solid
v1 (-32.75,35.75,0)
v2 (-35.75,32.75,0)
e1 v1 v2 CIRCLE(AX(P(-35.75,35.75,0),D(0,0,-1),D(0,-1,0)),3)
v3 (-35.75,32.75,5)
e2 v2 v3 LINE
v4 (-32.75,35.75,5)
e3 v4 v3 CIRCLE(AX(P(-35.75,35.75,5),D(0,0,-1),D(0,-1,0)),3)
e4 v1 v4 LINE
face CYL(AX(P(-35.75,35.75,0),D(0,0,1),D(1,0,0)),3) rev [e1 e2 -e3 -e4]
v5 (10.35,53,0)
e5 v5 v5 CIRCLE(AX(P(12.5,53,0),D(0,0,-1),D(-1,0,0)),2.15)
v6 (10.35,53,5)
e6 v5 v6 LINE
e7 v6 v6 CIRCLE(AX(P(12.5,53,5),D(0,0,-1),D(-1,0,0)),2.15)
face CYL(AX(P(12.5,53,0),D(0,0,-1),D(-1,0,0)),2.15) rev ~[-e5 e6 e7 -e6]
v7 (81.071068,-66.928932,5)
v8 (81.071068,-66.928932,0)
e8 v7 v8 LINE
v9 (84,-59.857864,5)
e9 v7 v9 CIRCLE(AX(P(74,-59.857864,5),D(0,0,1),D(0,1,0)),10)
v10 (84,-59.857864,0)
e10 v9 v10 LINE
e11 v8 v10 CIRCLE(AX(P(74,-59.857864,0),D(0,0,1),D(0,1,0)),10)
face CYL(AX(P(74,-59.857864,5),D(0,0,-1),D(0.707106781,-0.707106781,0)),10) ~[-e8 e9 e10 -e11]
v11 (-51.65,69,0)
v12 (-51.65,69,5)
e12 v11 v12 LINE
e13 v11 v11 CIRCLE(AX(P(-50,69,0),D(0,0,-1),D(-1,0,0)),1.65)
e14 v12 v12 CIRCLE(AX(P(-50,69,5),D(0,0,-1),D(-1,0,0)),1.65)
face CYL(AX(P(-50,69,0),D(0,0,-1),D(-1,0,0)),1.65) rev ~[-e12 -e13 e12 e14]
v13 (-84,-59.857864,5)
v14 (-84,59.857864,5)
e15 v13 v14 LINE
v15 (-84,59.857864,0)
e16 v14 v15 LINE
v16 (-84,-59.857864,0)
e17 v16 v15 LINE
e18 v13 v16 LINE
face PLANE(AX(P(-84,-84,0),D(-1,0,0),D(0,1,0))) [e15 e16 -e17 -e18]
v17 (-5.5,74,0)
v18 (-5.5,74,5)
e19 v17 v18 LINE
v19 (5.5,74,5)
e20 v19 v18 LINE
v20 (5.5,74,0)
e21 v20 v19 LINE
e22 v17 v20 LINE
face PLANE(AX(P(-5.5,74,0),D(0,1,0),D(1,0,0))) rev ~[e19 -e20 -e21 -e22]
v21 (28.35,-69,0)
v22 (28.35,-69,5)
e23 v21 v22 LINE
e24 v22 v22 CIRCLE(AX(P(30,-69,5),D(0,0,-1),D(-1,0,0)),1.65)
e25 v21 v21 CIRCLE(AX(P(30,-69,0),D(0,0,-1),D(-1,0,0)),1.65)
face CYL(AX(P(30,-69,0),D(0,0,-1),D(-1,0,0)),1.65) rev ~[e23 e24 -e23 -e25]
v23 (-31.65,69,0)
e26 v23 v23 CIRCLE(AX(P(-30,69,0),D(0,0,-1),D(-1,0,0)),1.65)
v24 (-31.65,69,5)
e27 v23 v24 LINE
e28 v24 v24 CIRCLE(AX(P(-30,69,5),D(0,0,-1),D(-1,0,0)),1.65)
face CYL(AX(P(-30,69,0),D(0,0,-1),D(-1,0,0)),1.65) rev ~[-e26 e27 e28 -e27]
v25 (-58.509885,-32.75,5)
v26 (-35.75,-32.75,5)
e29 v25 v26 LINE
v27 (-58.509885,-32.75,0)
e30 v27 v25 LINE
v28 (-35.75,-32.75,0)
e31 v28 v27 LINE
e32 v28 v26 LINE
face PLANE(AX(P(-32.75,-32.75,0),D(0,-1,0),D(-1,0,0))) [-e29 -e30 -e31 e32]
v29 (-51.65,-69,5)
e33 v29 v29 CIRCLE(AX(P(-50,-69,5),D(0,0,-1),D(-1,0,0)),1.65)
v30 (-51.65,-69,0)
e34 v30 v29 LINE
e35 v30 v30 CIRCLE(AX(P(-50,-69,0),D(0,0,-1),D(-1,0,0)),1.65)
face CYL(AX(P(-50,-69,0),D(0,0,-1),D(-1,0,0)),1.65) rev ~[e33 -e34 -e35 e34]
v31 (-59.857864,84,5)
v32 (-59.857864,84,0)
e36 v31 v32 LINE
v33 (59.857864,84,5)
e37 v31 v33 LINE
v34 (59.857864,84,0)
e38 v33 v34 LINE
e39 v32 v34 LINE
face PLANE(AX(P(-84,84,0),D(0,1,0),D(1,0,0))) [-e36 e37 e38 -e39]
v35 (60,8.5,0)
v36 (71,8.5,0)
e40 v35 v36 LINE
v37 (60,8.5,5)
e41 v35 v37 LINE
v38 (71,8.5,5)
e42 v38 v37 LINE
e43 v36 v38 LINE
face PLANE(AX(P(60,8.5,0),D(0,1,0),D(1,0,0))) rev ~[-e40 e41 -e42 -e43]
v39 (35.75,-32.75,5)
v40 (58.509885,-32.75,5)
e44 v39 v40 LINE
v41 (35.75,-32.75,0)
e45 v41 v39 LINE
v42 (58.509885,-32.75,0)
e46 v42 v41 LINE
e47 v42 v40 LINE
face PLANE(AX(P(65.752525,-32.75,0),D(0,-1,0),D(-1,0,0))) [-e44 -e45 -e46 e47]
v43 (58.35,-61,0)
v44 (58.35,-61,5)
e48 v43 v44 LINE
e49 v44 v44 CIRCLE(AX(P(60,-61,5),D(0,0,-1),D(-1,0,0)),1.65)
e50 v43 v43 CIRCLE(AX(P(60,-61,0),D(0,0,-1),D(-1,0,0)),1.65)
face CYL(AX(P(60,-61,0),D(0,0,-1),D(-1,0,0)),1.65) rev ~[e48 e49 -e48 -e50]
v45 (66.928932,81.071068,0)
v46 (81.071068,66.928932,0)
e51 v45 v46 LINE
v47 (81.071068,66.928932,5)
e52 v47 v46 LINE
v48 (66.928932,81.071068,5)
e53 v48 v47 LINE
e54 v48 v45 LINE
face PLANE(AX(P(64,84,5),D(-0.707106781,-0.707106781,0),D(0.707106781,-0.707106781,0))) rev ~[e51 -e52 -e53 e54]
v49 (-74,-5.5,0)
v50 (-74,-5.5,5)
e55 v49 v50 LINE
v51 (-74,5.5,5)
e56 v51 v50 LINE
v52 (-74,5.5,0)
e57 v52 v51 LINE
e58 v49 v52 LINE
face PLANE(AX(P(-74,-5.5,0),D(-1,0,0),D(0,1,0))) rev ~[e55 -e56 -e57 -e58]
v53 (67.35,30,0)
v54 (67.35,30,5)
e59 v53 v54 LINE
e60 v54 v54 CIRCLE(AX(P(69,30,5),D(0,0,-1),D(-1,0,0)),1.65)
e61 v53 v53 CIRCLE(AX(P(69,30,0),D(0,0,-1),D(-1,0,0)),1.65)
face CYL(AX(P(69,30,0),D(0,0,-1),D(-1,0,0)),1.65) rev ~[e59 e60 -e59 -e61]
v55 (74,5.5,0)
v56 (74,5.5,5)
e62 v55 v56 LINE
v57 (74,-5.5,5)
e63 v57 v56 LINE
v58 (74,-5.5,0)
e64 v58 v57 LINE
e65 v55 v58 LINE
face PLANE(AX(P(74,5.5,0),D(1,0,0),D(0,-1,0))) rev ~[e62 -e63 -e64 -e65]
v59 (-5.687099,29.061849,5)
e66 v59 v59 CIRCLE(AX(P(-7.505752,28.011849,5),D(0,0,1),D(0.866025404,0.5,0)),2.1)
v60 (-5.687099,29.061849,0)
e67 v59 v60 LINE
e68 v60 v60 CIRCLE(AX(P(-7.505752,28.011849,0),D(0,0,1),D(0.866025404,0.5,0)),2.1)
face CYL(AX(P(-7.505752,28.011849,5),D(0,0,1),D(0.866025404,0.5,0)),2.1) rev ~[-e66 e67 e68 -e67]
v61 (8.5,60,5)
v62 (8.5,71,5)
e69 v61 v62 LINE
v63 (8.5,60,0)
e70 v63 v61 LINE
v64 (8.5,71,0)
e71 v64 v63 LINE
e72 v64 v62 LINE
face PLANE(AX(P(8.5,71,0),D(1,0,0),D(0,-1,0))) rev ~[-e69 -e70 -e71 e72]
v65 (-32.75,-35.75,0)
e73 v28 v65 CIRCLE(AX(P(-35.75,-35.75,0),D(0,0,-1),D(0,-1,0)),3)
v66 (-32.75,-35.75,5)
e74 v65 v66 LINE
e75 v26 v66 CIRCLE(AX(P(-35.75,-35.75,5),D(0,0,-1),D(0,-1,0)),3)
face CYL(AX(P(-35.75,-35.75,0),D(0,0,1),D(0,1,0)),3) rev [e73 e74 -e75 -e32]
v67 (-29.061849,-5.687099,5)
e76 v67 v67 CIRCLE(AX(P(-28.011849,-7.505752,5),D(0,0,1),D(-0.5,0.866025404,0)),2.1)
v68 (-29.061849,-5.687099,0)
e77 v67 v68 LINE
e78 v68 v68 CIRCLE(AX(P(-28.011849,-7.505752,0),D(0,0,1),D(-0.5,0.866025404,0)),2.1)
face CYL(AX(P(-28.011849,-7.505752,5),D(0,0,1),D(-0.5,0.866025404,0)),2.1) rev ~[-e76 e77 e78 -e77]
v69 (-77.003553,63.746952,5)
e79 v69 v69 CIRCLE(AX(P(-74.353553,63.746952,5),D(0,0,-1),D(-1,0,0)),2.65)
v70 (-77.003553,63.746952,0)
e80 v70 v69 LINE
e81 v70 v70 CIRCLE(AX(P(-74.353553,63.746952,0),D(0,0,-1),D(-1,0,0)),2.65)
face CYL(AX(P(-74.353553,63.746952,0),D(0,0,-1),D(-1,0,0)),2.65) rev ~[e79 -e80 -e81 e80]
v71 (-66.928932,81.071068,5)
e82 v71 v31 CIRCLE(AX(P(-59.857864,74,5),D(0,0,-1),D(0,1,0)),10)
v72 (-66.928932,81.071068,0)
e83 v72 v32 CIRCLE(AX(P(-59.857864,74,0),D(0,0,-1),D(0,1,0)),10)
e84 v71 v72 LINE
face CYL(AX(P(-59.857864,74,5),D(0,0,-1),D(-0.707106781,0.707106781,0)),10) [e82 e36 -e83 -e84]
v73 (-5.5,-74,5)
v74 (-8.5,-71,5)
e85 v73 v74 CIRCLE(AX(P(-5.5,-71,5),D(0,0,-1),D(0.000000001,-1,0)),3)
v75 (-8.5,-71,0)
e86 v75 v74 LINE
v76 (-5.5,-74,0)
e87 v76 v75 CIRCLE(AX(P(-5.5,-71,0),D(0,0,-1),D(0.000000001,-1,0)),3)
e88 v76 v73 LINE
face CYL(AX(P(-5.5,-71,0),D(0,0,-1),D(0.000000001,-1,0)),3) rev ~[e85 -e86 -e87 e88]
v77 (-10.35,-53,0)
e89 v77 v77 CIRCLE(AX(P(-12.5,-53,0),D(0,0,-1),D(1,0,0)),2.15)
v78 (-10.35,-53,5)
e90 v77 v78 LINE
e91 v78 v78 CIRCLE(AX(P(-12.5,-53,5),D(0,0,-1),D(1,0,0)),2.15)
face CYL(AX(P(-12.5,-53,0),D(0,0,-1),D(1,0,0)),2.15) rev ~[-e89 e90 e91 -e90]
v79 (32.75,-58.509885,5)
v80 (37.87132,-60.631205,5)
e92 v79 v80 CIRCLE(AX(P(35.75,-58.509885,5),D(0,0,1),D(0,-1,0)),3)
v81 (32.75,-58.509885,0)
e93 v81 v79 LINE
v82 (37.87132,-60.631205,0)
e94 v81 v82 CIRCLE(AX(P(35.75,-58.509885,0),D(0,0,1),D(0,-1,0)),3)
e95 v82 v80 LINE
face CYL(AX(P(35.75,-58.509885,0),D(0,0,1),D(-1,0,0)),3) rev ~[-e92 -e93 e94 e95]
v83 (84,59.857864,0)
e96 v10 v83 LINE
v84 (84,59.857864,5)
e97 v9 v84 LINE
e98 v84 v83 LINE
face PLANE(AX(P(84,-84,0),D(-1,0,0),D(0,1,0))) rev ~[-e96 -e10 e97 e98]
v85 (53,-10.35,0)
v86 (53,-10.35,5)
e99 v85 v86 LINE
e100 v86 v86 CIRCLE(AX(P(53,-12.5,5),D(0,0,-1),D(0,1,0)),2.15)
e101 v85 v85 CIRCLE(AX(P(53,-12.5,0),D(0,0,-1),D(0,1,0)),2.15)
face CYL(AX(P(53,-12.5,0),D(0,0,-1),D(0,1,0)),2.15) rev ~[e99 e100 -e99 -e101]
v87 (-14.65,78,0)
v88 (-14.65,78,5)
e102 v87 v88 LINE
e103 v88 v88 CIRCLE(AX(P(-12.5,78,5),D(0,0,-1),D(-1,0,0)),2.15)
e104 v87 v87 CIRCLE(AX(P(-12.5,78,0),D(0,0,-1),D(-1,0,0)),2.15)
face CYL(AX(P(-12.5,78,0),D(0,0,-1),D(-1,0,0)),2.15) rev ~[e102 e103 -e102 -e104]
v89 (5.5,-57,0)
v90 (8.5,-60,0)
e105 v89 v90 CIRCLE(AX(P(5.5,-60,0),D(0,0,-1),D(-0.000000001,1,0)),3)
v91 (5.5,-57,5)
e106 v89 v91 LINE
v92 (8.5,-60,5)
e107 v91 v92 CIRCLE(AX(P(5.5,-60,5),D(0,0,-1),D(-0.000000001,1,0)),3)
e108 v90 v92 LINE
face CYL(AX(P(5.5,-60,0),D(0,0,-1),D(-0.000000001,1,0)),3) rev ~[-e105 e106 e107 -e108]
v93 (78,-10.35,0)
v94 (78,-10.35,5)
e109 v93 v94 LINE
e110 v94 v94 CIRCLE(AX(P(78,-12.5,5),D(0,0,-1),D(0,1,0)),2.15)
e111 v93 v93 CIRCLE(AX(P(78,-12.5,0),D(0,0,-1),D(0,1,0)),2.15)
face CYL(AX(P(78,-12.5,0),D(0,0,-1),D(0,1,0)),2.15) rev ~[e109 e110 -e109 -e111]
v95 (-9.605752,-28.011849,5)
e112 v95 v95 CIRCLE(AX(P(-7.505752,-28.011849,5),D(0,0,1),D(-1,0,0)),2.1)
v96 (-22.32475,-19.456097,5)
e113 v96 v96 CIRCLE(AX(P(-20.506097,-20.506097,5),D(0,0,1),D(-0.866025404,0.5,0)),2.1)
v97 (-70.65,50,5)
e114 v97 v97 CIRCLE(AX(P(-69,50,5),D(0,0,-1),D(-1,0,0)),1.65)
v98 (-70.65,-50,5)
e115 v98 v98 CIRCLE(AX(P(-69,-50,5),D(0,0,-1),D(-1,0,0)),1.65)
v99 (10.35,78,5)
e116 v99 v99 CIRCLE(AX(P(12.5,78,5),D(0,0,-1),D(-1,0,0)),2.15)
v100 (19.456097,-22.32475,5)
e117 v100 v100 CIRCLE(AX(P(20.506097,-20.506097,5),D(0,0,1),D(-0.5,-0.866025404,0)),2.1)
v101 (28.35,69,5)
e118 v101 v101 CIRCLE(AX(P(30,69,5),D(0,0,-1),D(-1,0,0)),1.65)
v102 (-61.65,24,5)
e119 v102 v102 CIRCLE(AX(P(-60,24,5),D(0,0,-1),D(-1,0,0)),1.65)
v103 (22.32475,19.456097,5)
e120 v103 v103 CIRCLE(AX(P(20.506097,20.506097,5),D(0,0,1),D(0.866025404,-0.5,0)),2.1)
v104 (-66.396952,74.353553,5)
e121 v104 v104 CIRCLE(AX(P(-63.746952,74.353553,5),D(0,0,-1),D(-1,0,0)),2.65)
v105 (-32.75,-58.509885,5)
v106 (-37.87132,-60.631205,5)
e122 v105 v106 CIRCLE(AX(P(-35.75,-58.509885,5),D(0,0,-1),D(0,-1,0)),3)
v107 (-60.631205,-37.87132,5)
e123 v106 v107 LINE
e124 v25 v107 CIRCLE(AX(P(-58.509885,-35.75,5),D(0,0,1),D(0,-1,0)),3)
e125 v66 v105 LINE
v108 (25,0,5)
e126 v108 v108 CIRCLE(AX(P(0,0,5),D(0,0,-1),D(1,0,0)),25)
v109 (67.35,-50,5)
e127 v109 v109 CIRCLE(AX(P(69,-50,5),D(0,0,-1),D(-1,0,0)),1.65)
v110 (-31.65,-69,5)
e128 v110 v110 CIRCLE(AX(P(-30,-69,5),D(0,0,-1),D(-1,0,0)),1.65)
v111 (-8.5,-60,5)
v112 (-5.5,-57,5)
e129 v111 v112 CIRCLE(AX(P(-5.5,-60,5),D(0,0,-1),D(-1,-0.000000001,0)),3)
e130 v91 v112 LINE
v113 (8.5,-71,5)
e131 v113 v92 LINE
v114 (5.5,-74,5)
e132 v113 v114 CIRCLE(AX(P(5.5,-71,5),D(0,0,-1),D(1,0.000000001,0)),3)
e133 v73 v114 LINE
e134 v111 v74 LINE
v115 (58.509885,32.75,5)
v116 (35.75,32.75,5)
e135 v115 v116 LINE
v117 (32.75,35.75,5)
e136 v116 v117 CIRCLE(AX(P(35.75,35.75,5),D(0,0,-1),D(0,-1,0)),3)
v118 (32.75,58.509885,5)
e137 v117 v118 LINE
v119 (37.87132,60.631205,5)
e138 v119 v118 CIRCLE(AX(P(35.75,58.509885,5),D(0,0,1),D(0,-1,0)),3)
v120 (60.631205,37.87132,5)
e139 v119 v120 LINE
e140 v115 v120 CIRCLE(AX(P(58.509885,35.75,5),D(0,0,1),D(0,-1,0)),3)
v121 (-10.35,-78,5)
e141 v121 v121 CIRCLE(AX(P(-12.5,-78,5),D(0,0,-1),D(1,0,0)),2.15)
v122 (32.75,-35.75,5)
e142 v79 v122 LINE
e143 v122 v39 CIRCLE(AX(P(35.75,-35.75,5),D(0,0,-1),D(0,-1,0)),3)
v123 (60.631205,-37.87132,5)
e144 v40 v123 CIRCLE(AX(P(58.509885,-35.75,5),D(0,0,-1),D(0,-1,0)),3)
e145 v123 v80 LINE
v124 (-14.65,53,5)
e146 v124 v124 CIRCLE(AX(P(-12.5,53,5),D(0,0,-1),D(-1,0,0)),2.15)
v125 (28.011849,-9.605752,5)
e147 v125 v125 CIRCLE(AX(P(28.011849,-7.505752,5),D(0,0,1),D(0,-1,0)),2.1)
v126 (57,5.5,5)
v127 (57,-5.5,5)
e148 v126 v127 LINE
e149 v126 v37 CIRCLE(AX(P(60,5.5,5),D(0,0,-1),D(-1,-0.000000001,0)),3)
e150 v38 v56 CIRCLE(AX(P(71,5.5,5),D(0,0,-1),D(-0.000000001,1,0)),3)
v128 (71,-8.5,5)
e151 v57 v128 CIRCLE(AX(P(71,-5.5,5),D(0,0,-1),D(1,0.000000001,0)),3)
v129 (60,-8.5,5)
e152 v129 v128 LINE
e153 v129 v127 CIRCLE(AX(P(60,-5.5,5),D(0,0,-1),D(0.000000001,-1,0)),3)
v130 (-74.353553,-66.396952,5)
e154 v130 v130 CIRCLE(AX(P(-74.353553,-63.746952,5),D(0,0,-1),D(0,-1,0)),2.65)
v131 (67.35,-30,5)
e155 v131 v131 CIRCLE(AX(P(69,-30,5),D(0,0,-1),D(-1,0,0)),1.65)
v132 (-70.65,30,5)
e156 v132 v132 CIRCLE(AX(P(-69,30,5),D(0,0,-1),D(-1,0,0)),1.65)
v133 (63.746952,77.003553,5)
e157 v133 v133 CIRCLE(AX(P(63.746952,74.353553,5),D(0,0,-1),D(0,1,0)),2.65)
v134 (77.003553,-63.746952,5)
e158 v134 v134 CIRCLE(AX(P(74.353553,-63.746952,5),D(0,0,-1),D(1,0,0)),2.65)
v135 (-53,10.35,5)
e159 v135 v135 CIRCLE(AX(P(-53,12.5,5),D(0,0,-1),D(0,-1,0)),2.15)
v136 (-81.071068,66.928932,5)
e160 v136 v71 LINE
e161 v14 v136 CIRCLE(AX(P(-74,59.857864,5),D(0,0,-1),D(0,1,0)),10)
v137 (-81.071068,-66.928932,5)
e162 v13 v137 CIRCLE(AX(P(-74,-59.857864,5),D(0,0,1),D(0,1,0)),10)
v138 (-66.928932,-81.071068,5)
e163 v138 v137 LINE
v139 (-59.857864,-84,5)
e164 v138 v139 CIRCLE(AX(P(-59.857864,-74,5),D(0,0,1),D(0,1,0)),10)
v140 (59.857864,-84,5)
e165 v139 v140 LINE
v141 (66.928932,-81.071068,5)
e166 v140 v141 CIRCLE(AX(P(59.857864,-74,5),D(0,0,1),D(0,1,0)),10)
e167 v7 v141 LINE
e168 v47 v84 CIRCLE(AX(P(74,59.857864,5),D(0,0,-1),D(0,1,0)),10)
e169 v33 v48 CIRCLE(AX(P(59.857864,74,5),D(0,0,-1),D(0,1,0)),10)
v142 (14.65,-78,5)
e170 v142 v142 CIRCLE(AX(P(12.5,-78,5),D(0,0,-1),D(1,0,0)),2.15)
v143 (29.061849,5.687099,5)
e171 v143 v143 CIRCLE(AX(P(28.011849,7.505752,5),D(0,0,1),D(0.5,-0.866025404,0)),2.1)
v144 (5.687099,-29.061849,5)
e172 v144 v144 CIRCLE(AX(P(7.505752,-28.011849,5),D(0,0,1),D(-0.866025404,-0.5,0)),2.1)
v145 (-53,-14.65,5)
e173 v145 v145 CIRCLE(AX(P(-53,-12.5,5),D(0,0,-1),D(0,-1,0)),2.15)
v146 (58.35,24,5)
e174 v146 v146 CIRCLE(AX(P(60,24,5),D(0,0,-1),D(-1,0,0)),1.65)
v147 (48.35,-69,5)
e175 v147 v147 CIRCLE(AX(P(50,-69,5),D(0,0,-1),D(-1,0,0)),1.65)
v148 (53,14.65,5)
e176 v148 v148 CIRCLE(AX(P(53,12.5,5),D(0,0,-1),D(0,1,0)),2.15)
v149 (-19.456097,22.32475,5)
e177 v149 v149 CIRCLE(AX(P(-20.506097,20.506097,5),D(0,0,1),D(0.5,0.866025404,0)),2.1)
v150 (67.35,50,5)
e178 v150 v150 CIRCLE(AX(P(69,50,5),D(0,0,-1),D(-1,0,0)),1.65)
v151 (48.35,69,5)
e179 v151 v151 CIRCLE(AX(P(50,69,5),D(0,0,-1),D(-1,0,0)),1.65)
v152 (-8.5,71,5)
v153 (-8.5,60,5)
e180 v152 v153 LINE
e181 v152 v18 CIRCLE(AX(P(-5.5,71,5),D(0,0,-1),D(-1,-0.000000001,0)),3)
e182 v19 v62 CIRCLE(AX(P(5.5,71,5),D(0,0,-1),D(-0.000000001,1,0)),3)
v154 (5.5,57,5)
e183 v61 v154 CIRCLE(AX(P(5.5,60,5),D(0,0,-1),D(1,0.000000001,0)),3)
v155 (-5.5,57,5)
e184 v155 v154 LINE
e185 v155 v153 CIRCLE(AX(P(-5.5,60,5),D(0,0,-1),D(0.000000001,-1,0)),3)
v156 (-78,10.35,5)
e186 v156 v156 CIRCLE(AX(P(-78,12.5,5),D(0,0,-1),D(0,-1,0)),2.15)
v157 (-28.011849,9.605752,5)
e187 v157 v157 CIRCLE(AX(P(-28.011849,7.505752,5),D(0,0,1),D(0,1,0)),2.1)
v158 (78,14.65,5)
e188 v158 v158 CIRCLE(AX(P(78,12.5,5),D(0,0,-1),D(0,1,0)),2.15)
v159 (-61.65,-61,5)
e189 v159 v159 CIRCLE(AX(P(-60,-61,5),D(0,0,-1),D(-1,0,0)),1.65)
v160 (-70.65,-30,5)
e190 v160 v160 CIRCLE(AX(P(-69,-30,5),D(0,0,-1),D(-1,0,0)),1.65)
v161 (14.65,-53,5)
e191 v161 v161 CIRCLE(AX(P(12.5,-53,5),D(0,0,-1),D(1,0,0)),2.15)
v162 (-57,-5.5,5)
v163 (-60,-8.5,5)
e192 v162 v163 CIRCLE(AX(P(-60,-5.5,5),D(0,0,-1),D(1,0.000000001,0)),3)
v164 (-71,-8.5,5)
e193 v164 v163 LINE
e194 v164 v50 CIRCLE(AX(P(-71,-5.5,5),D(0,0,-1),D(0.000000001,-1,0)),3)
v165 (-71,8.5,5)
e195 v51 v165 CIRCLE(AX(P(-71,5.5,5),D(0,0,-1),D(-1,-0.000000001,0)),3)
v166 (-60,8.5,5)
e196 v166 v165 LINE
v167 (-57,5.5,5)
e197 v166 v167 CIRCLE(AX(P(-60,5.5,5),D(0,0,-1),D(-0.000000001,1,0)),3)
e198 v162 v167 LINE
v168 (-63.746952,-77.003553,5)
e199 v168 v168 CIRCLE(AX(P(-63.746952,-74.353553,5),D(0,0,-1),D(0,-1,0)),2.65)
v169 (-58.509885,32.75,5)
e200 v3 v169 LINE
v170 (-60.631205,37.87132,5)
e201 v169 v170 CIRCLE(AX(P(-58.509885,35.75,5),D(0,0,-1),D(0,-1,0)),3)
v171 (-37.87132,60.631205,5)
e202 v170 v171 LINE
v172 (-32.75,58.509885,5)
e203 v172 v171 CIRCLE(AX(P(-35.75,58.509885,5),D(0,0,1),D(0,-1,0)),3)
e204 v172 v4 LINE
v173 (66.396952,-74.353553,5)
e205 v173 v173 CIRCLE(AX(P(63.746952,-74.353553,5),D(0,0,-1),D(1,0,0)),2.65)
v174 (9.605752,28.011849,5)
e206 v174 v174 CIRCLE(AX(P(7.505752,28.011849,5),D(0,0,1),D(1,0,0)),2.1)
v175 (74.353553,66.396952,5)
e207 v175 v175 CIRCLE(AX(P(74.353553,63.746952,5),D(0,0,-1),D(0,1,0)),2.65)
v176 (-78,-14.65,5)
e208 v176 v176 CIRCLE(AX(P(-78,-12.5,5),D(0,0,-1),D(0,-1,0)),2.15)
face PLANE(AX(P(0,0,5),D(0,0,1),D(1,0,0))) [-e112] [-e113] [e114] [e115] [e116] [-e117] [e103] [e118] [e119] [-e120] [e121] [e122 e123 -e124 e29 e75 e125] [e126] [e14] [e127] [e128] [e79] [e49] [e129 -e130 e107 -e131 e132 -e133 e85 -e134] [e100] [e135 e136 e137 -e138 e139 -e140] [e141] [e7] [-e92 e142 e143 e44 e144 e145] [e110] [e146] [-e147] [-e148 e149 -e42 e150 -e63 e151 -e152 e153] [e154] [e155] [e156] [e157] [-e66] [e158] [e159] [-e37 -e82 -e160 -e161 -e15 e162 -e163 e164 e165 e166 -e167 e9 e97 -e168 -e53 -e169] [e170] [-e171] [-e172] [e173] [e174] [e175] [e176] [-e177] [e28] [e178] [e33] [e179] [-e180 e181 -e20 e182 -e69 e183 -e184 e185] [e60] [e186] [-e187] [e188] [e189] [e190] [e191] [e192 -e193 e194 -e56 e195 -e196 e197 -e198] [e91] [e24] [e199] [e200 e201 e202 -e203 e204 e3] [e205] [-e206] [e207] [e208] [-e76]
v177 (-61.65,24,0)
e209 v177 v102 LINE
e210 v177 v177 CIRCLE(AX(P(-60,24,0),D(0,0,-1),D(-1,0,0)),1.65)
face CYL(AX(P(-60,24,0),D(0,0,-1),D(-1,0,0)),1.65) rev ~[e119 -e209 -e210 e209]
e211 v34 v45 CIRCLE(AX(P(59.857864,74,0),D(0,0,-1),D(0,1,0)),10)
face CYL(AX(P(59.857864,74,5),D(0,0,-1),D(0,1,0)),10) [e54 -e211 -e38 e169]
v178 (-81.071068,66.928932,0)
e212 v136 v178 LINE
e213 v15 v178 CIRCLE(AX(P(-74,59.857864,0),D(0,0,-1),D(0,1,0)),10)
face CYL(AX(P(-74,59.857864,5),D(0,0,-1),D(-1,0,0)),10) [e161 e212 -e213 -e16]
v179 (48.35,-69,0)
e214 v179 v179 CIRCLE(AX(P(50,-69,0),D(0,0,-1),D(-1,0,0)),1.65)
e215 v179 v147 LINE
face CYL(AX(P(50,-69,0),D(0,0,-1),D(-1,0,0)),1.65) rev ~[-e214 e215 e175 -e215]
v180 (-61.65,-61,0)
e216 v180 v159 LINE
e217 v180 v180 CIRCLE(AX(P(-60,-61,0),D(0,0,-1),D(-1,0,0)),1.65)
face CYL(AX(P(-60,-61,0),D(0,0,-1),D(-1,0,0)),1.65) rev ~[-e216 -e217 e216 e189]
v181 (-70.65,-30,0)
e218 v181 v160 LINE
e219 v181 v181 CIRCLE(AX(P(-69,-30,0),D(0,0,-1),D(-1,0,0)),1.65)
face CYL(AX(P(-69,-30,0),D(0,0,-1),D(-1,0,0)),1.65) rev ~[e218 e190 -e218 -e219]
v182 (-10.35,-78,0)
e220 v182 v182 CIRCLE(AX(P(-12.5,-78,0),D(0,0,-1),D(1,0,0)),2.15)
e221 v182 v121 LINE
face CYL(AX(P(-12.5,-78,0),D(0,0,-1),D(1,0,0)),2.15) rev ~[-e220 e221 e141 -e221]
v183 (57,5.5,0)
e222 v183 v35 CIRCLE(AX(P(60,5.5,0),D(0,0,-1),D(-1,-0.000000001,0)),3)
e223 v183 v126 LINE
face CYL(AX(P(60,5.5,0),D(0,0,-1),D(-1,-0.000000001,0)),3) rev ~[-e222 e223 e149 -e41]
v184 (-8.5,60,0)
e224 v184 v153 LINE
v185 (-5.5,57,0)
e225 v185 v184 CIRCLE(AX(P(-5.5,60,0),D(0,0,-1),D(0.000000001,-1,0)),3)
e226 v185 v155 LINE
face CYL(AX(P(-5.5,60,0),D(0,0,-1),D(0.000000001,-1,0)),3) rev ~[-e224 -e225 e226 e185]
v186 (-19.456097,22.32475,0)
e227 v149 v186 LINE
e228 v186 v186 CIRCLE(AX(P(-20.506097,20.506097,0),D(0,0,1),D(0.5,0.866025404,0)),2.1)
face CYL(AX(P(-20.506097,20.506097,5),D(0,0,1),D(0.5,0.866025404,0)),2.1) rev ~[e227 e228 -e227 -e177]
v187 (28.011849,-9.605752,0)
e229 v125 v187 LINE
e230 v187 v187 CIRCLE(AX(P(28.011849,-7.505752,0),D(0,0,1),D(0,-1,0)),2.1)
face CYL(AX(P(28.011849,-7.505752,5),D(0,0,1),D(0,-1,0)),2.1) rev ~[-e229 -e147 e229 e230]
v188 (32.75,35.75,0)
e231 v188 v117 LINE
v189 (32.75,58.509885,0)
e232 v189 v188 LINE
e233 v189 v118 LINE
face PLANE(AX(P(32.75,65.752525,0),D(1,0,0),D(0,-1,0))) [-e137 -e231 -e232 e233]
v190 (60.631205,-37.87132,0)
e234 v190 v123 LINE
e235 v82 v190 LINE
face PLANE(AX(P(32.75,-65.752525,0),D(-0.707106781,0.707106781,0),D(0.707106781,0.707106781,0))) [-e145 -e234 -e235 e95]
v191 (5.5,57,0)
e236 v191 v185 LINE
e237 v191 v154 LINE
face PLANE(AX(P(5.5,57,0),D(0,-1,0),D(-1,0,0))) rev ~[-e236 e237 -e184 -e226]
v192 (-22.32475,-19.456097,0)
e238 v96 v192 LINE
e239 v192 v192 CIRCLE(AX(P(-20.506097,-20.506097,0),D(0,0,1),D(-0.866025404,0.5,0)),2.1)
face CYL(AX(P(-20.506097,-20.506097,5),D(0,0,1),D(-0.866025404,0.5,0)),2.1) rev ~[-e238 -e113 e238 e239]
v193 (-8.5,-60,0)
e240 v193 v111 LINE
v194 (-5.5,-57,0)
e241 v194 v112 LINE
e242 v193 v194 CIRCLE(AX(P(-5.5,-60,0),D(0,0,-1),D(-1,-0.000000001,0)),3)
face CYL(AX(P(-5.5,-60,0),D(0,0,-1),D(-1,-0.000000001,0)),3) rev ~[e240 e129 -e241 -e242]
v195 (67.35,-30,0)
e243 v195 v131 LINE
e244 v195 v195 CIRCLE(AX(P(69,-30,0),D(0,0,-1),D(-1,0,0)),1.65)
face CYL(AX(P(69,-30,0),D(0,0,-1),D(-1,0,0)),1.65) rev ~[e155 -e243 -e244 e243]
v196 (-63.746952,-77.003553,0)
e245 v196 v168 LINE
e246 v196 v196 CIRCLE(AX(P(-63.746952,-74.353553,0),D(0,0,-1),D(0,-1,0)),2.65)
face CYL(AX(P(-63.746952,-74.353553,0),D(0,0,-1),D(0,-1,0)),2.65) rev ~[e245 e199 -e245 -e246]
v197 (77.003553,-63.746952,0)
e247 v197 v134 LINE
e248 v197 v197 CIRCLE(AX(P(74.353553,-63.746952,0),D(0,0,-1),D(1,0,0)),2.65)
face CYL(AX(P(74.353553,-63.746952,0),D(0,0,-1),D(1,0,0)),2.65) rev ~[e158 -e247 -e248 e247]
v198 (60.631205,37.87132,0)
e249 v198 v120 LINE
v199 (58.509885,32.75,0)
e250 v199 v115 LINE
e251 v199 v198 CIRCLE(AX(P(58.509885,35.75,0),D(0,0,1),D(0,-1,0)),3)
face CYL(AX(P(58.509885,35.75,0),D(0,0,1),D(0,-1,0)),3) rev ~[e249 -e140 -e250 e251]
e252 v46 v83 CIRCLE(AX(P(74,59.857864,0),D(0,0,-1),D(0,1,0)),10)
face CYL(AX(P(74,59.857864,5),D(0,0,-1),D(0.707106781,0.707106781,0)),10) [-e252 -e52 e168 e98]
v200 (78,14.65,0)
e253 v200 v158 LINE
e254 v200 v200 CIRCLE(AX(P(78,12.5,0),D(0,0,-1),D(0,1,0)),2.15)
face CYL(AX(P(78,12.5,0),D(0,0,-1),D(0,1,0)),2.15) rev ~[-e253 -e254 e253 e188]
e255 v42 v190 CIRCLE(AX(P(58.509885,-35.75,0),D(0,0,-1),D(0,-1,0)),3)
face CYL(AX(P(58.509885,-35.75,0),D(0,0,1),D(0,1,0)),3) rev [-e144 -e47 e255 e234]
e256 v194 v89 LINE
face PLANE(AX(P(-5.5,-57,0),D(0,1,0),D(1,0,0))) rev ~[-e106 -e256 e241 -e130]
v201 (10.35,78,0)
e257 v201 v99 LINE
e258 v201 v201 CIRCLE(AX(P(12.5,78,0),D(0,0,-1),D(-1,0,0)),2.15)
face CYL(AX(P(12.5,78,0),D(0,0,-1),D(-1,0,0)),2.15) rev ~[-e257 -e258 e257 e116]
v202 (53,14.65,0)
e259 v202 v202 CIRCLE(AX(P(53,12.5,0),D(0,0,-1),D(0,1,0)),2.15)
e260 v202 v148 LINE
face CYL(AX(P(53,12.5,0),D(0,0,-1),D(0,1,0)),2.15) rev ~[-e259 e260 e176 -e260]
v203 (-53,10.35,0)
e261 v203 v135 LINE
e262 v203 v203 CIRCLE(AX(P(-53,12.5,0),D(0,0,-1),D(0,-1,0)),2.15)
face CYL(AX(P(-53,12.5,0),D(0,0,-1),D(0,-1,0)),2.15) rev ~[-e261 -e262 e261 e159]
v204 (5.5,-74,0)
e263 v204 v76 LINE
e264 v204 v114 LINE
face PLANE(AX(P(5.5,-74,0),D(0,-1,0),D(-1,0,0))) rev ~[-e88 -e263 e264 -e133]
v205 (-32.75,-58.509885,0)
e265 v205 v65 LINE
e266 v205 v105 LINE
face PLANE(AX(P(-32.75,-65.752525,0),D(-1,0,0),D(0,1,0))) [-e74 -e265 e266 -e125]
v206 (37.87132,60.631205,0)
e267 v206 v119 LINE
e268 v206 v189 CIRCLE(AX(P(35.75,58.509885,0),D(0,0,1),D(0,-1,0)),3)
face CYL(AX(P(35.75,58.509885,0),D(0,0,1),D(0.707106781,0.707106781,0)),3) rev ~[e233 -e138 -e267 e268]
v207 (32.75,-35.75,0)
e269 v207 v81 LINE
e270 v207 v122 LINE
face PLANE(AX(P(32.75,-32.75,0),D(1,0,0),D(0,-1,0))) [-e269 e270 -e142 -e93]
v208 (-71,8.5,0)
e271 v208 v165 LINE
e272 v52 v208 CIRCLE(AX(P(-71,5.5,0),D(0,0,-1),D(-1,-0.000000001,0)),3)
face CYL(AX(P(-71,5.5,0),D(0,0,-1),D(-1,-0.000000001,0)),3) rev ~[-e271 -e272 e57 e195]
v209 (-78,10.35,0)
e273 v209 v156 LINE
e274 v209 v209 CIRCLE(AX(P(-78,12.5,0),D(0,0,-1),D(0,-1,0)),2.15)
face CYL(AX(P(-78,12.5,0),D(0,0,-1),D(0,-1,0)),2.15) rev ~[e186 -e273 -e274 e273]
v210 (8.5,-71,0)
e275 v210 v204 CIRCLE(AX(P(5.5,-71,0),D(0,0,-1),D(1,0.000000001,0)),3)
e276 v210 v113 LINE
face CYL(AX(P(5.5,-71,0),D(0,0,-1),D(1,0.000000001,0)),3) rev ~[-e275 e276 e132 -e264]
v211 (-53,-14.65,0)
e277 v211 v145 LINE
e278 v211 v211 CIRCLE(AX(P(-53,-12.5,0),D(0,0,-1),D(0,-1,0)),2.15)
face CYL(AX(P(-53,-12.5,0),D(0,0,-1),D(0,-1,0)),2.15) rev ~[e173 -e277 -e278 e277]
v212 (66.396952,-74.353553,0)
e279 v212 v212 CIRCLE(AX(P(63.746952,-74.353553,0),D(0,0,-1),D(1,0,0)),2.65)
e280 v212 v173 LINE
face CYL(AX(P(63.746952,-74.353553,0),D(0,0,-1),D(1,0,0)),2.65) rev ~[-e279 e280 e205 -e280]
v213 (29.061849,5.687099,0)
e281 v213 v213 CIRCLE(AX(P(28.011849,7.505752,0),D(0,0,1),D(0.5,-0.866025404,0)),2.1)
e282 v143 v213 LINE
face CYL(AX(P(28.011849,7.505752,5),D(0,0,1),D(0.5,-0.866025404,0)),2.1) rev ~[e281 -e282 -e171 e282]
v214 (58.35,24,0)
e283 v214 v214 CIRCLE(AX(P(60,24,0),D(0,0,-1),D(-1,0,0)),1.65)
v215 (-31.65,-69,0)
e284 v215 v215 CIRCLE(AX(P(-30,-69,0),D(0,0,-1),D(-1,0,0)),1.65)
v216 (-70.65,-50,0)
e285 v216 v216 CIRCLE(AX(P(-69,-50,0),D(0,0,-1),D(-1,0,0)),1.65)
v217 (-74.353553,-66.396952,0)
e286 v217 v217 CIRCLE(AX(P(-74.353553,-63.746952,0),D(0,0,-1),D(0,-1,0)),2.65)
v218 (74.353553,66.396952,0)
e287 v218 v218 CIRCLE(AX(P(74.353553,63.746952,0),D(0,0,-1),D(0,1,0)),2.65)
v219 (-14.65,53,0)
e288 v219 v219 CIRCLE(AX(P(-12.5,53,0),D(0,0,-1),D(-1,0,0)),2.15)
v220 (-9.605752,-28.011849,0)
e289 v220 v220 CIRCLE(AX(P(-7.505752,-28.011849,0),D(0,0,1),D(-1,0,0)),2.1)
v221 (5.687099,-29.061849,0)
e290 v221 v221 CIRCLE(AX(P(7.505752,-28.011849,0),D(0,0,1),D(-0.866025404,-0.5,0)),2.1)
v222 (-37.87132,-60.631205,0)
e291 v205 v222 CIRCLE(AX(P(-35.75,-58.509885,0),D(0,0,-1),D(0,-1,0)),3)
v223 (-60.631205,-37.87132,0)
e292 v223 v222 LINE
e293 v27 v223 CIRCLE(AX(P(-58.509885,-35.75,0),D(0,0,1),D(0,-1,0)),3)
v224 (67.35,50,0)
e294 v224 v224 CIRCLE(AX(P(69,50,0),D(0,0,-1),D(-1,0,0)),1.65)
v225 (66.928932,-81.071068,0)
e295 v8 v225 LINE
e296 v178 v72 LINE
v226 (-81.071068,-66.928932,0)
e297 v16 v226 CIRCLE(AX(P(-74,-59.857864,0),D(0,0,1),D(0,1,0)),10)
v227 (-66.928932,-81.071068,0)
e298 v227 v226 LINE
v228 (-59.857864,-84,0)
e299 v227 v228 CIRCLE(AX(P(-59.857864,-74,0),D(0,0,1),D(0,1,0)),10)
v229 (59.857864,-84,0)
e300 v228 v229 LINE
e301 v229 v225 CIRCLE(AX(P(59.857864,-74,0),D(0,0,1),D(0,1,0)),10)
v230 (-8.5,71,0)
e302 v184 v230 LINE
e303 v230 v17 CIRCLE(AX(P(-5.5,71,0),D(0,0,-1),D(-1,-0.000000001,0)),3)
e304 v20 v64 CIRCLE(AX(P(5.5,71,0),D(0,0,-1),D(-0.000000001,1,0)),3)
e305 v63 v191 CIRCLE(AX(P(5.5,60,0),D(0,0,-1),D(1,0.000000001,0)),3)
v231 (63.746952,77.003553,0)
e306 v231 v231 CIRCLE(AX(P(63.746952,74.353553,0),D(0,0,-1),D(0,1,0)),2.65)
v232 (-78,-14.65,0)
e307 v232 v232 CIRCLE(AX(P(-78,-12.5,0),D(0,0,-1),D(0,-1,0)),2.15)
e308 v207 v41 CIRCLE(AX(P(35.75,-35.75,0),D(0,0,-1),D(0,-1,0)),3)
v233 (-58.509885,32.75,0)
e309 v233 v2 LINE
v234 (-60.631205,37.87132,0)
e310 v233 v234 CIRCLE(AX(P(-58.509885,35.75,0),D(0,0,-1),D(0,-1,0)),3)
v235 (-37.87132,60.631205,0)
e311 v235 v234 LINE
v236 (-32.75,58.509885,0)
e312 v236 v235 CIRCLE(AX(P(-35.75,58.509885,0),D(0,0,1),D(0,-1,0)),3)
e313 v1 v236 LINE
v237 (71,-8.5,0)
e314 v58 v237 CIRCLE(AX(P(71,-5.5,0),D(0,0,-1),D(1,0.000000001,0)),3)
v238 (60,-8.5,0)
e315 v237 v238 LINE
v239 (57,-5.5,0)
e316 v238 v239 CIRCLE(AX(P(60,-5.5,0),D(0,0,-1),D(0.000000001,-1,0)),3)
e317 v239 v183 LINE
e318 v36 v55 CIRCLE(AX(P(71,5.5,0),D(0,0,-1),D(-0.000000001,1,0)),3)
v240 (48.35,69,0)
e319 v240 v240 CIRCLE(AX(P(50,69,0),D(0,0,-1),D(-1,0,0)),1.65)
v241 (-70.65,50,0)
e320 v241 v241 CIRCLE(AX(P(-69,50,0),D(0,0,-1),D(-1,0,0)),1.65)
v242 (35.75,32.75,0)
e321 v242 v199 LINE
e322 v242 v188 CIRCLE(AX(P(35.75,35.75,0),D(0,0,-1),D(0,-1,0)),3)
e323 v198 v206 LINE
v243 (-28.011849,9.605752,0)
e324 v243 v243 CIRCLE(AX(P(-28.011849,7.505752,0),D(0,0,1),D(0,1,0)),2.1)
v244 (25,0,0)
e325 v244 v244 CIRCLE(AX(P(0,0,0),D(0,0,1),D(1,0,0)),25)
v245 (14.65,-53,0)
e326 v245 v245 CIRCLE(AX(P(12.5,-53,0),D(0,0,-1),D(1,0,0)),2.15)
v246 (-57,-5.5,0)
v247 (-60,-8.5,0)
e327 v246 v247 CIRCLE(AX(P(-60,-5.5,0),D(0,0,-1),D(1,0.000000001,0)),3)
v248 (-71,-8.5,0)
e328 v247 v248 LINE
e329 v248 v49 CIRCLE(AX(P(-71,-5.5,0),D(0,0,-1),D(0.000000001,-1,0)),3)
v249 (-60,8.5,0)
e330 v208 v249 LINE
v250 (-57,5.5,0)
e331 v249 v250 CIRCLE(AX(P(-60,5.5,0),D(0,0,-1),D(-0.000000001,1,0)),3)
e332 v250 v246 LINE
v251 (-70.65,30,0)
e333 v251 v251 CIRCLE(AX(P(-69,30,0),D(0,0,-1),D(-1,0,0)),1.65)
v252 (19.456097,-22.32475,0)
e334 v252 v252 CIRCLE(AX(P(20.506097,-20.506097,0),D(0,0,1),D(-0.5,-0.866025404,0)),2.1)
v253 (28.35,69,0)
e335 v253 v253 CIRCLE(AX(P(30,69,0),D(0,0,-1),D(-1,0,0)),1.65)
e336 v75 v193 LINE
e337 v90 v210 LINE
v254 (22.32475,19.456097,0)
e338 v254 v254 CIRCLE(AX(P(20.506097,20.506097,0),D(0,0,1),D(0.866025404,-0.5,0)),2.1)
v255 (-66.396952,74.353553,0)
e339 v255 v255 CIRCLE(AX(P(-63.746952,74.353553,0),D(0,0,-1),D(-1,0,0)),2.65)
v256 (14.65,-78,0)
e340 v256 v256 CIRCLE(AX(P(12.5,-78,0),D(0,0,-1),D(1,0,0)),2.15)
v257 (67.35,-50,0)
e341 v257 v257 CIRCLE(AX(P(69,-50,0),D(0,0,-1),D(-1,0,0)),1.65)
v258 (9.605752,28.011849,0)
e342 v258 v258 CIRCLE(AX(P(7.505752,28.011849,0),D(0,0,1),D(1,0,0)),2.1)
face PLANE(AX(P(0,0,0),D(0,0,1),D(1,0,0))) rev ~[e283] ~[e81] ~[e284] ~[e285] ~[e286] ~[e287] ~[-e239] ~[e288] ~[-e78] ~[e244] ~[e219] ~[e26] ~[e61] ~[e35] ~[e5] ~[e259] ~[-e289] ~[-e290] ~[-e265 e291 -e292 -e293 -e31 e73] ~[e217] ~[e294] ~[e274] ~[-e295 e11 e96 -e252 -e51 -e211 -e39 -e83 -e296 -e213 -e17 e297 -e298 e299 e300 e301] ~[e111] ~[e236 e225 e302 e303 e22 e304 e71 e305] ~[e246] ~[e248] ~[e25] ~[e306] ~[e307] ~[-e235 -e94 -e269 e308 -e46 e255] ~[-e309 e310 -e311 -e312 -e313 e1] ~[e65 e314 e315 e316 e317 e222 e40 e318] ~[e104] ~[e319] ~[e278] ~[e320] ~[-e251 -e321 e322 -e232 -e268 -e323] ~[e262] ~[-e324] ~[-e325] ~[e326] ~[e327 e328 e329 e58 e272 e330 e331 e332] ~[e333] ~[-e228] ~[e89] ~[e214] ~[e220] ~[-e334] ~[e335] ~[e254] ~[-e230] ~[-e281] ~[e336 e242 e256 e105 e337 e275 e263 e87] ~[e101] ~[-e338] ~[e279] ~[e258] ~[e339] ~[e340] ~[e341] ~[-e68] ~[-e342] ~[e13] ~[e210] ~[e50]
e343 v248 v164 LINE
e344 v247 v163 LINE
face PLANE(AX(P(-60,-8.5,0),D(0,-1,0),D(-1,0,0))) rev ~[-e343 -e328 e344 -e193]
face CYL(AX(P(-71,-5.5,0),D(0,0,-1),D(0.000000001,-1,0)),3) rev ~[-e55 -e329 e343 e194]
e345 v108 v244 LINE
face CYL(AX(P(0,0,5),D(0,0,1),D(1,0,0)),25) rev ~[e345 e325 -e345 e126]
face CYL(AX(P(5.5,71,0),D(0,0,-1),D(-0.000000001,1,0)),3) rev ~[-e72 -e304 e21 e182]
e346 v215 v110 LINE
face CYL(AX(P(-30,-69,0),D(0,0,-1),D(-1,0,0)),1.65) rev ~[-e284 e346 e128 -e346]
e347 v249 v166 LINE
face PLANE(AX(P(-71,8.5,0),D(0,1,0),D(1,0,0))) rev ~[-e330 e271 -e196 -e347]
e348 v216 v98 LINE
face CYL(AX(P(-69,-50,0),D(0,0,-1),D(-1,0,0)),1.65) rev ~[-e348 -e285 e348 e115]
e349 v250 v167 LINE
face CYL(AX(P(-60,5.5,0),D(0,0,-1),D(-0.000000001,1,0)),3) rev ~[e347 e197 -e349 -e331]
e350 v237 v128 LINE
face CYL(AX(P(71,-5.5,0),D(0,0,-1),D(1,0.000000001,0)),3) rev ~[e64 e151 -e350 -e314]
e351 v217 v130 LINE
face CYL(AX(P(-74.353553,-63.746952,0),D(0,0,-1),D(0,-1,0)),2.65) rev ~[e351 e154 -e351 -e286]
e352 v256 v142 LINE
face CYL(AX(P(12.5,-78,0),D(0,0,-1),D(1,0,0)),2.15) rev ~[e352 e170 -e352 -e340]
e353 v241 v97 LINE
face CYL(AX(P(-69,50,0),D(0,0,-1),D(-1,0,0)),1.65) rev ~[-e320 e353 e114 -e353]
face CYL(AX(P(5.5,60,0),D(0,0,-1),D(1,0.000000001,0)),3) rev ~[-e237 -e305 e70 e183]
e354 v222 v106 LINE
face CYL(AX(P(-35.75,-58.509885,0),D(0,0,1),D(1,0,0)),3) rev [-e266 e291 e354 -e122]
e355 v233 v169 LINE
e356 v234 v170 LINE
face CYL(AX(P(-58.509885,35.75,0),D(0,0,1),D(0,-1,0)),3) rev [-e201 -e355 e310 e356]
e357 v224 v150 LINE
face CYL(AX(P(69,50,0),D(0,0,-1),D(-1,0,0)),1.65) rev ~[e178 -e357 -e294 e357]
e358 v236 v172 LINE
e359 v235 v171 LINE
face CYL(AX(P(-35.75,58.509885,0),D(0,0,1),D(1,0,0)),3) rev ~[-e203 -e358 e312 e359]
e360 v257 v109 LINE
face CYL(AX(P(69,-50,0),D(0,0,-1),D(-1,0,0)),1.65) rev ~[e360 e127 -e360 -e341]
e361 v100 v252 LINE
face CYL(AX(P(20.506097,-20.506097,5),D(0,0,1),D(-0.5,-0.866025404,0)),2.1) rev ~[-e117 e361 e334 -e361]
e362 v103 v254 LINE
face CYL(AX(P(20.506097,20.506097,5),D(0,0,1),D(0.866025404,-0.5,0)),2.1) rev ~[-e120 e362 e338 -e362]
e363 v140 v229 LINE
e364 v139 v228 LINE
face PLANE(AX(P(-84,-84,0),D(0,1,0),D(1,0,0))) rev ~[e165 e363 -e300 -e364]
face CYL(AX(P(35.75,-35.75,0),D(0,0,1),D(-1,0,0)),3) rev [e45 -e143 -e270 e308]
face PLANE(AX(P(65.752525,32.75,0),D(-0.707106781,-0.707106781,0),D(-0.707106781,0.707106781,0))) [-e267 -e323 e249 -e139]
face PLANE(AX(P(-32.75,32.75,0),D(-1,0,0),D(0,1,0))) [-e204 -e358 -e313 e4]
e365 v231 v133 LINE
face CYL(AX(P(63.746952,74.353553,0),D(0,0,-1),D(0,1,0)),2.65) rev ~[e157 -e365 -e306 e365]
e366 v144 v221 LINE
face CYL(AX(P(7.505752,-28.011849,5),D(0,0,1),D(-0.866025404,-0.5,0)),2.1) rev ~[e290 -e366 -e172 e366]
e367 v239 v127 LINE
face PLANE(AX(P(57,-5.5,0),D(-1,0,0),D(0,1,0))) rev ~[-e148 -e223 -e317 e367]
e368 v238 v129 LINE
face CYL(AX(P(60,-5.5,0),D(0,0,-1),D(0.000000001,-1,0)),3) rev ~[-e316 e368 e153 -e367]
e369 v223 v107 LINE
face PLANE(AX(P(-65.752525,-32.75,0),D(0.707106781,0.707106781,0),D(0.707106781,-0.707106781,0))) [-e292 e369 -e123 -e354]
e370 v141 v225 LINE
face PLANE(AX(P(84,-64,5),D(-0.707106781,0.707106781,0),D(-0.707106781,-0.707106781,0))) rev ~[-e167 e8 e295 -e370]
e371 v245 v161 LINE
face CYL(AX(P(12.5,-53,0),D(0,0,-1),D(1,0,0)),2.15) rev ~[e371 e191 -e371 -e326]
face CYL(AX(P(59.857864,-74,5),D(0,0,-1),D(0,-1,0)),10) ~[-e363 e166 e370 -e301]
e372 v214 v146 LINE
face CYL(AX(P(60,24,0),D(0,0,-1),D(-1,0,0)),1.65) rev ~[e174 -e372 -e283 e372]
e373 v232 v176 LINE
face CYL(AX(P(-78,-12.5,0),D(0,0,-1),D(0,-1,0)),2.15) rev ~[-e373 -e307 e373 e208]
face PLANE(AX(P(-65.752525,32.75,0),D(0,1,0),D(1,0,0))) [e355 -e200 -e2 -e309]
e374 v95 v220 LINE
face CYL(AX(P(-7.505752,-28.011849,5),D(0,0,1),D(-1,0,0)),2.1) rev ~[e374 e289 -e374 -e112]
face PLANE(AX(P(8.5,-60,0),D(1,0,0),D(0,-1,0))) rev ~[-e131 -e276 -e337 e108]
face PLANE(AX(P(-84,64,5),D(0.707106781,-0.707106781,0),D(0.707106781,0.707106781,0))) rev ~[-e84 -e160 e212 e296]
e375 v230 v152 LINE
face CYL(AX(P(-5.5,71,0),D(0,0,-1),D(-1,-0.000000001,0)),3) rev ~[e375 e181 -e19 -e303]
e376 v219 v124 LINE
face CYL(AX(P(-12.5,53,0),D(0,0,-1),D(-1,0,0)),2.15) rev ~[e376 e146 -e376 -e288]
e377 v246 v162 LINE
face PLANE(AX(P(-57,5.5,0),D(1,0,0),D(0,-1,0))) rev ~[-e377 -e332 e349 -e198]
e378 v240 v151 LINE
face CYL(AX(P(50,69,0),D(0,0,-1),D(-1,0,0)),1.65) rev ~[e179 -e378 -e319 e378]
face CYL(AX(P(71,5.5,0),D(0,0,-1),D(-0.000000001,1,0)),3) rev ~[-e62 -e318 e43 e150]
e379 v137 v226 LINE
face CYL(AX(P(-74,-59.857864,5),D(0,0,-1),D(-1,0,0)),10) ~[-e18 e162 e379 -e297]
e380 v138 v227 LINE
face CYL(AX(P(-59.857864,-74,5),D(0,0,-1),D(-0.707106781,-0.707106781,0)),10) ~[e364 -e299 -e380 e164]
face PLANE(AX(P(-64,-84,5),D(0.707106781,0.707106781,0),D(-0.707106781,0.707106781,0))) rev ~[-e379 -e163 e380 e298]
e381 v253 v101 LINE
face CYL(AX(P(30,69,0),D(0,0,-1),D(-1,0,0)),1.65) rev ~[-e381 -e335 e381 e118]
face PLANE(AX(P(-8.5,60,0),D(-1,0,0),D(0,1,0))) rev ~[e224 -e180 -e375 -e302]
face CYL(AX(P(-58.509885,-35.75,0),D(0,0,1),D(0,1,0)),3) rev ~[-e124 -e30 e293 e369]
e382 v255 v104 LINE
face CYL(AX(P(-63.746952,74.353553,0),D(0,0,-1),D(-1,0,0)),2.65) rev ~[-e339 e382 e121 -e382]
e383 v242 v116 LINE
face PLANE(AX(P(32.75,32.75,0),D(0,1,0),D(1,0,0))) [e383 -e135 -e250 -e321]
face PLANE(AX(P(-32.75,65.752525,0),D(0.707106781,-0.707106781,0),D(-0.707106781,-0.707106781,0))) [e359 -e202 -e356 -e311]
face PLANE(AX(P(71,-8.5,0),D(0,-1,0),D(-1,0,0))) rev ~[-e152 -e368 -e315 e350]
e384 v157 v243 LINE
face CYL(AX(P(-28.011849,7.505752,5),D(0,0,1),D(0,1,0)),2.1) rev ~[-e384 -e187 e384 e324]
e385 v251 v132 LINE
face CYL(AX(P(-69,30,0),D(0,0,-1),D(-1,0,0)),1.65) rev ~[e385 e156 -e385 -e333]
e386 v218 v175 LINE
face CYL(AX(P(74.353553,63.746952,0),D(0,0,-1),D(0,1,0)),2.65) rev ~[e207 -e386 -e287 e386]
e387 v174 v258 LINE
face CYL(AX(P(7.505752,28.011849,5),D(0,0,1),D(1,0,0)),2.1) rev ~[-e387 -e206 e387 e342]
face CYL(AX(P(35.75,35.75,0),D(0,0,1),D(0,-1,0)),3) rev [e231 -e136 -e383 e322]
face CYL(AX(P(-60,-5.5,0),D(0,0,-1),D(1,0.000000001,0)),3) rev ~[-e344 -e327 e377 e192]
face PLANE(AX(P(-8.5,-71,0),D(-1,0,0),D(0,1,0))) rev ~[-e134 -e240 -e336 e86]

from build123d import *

# Parameters (mm, degrees)
SKETCH_1_W               = 168
SKETCH_1_H               = 168
EXTRUDE_1_DEPTH          = 5
CUT_EXTRUDE_1_DEPTH      = 6
SKETCH_3_R               = 2.1
SKETCH_3_R_2             = 25
CUT_EXTRUDE_2_DEPTH      = 6
PATTERN_CIRCULAR_1_COUNT = 12
SKETCH_5_R               = 2.65
CUT_EXTRUDE_4_DEPTH      = 6
PATTERN_CIRCULAR_2_COUNT = 4
FILLET_1_R               = 10
SKETCH_6_R               = 2.15
CUT_EXTRUDE_5_DEPTH      = 6
PATTERN_CIRCULAR_3_COUNT = 4
SKETCH_7_R               = 1.65
CUT_EXTRUDE_6_DEPTH      = 6
CUT_EXTRUDE_7_DEPTH      = 6
PATTERN_CIRCULAR_4_COUNT = 4
FILLET_2_R               = 3
SKETCH_9_R               = 1.65
CUT_EXTRUDE_8_DEPTH      = 6


with BuildPart() as part:
    # 草图1 → 凸台-拉伸1 (new body)
    with BuildSketch(Plane.XY):
        Rectangle(SKETCH_1_W, SKETCH_1_H)
    extrude(amount=EXTRUDE_1_DEPTH)

    # 草图2 → 切除-拉伸1 (cut, through all)
    with BuildSketch(Plane.XY.offset(5)):
        Polygon((64, 84), (84, 64), (84, 84), align=None)
        Polygon((64, -84), (84, -84), (84, -64), align=None)
        Polygon((-84, -64), (-84, -84), (-64, -84), align=None)
        Polygon((-64, 84), (-84, 84), (-84, 64), align=None)
    extrude(amount=-CUT_EXTRUDE_1_DEPTH, mode=Mode.SUBTRACT)

    # 草图3 → 切除-拉伸2 (cut, through all)
    with BuildSketch(Plane.XY.offset(5)):
        with Locations((7.505752308, 28.011848962)):
            Circle(SKETCH_3_R)
        Circle(SKETCH_3_R_2)
    cut_extrude_2 = extrude(amount=-CUT_EXTRUDE_2_DEPTH, mode=Mode.SUBTRACT)

    # 阵列(圆周)1: 切除-拉伸2 ×12 about axis
    pattern_circular_1_axis = Axis((0, 0, 0), (0, 0, 1))
    for i in range(1, PATTERN_CIRCULAR_1_COUNT):
        add(cut_extrude_2.rotate(pattern_circular_1_axis, i * 360 / PATTERN_CIRCULAR_1_COUNT), mode=Mode.SUBTRACT)

    # 草图5 → 切除-拉伸4 (cut, through all)
    with BuildSketch(Plane(origin=(0, 0, 0), x_dir=(-1, 0, 0), z_dir=(0, 0, -1))):
        with Locations((63.746951673, 74.353553391)):
            Circle(SKETCH_5_R)
        with Locations((74.353553391, 63.746951673)):
            Circle(SKETCH_5_R)
    cut_extrude_4 = extrude(amount=-CUT_EXTRUDE_4_DEPTH, mode=Mode.SUBTRACT)

    # 阵列(圆周)2: 切除-拉伸4 ×4 about axis
    pattern_circular_2_axis = Axis((0, 0, 0), (0, 0, 1))
    for i in range(1, PATTERN_CIRCULAR_2_COUNT):
        add(cut_extrude_4.rotate(pattern_circular_2_axis, i * 360 / PATTERN_CIRCULAR_2_COUNT), mode=Mode.SUBTRACT)

    # 圆角1
    fillet_1_edges = [part.edges().sort_by_distance(p)[0] for p in [
        (-64, 84, 2.5),
        (-84, 64, 2.5),
        (-84, -64, 2.5),
        (-64, -84, 2.5),
        (64, -84, 2.5),
        (84, -64, 2.5),
        (64, 84, 2.5),
        (84, 64, 2.5),
    ]]
    fillet(fillet_1_edges, radius=FILLET_1_R)

    # 草图6 → 切除-拉伸5 (cut, through all)
    with BuildSketch(Plane(origin=(0, 0, 0), x_dir=(-1, 0, 0), z_dir=(0, 0, -1))):
        with Locations((-12.5, 78)):
            Circle(SKETCH_6_R)
        with Locations((12.5, 78)):
            Circle(SKETCH_6_R)
        with Locations((12.5, 53)):
            Circle(SKETCH_6_R)
        with Locations((-12.5, 53)):
            Circle(SKETCH_6_R)
        with BuildLine():
            Line((-8.5, 71), (-8.5, 60))
            ThreePointArc((-8.5, 60), (-7.621320344, 57.878679656), (-5.5, 57))
            Line((-5.5, 57), (5.5, 57))
            ThreePointArc((5.5, 57), (7.621320344, 57.878679656), (8.5, 60))
            Line((8.5, 60), (8.5, 71))
            ThreePointArc((8.5, 71), (7.621320344, 73.121320344), (5.5, 74))
            Line((5.5, 74), (-5.5, 74))
            ThreePointArc((-5.5, 74), (-7.621320344, 73.121320344), (-8.5, 71))
        make_face()
    cut_extrude_5 = extrude(amount=-CUT_EXTRUDE_5_DEPTH, mode=Mode.SUBTRACT)

    # 阵列(圆周)3: 切除-拉伸5 ×4 about axis
    pattern_circular_3_axis = Axis((0, 0, 0), (0, 0, 1))
    for i in range(1, PATTERN_CIRCULAR_3_COUNT):
        add(cut_extrude_5.rotate(pattern_circular_3_axis, i * 360 / PATTERN_CIRCULAR_3_COUNT), mode=Mode.SUBTRACT)

    # 草图7 → 切除-拉伸6 (cut, through all)
    with BuildSketch(Plane(origin=(0, 0, 0), x_dir=(-1, 0, 0), z_dir=(0, 0, -1))):
        with Locations((60, 24)):
            Circle(SKETCH_7_R)
        with Locations((-60, 24)):
            Circle(SKETCH_7_R)
        with Locations((-60, -61)):
            Circle(SKETCH_7_R)
        with Locations((60, -61)):
            Circle(SKETCH_7_R)
    extrude(amount=-CUT_EXTRUDE_6_DEPTH, mode=Mode.SUBTRACT)

    # 草图8 → 切除-拉伸7 (cut, through all)
    with BuildSketch(Plane(origin=(0, 0, 0), x_dir=(-1, 0, 0), z_dir=(0, 0, -1))):
        Polygon((32.75, 32.75), (32.75, 65.752525317), (65.752525317, 32.75), align=None)
    cut_extrude_7 = extrude(amount=-CUT_EXTRUDE_7_DEPTH, mode=Mode.SUBTRACT)

    # 阵列(圆周)4: 切除-拉伸7 ×4 about axis
    pattern_circular_4_axis = Axis((0, 0, 0), (0, 0, 1))
    for i in range(1, PATTERN_CIRCULAR_4_COUNT):
        add(cut_extrude_7.rotate(pattern_circular_4_axis, i * 360 / PATTERN_CIRCULAR_4_COUNT), mode=Mode.SUBTRACT)

    # 圆角2
    fillet_2_edges = [part.edges().sort_by_distance(p)[0] for p in [
        (-65.752525317, 32.75, 2.5),
        (-32.75, 32.75, 2.5),
        (-32.75, 65.752525317, 2.5),
        (-32.75, -65.752525317, 2.5),
        (-32.75, -32.75, 2.5),
        (-65.752525317, -32.75, 2.5),
        (65.752525317, -32.75, 2.5),
        (32.75, -32.75, 2.5),
        (32.75, -65.752525317, 2.5),
        (32.75, 65.752525317, 2.5),
        (32.75, 32.75, 2.5),
        (65.752525317, 32.75, 2.5),
    ]]
    fillet(fillet_2_edges, radius=FILLET_2_R)

    # 草图9 → 切除-拉伸8 (cut, through all)
    with BuildSketch(Plane(origin=(0, 0, 0), x_dir=(-1, 0, 0), z_dir=(0, 0, -1))):
        with Locations((-50, 69)):
            Circle(SKETCH_9_R)
        with Locations((-30, 69)):
            Circle(SKETCH_9_R)
        with Locations((30, 69)):
            Circle(SKETCH_9_R)
        with Locations((50, 69)):
            Circle(SKETCH_9_R)
        with Locations((69, 30)):
            Circle(SKETCH_9_R)
        with Locations((69, 50)):
            Circle(SKETCH_9_R)
        with Locations((69, -30)):
            Circle(SKETCH_9_R)
        with Locations((69, -50)):
            Circle(SKETCH_9_R)
        with Locations((-69, -30)):
            Circle(SKETCH_9_R)
        with Locations((-69, -50)):
            Circle(SKETCH_9_R)
        with Locations((-69, 30)):
            Circle(SKETCH_9_R)
        with Locations((-69, 50)):
            Circle(SKETCH_9_R)
        with Locations((-30, -69)):
            Circle(SKETCH_9_R)
        with Locations((-50, -69)):
            Circle(SKETCH_9_R)
        with Locations((30, -69)):
            Circle(SKETCH_9_R)
        with Locations((50, -69)):
            Circle(SKETCH_9_R)
    extrude(amount=-CUT_EXTRUDE_8_DEPTH, mode=Mode.SUBTRACT)


solid = part.part
